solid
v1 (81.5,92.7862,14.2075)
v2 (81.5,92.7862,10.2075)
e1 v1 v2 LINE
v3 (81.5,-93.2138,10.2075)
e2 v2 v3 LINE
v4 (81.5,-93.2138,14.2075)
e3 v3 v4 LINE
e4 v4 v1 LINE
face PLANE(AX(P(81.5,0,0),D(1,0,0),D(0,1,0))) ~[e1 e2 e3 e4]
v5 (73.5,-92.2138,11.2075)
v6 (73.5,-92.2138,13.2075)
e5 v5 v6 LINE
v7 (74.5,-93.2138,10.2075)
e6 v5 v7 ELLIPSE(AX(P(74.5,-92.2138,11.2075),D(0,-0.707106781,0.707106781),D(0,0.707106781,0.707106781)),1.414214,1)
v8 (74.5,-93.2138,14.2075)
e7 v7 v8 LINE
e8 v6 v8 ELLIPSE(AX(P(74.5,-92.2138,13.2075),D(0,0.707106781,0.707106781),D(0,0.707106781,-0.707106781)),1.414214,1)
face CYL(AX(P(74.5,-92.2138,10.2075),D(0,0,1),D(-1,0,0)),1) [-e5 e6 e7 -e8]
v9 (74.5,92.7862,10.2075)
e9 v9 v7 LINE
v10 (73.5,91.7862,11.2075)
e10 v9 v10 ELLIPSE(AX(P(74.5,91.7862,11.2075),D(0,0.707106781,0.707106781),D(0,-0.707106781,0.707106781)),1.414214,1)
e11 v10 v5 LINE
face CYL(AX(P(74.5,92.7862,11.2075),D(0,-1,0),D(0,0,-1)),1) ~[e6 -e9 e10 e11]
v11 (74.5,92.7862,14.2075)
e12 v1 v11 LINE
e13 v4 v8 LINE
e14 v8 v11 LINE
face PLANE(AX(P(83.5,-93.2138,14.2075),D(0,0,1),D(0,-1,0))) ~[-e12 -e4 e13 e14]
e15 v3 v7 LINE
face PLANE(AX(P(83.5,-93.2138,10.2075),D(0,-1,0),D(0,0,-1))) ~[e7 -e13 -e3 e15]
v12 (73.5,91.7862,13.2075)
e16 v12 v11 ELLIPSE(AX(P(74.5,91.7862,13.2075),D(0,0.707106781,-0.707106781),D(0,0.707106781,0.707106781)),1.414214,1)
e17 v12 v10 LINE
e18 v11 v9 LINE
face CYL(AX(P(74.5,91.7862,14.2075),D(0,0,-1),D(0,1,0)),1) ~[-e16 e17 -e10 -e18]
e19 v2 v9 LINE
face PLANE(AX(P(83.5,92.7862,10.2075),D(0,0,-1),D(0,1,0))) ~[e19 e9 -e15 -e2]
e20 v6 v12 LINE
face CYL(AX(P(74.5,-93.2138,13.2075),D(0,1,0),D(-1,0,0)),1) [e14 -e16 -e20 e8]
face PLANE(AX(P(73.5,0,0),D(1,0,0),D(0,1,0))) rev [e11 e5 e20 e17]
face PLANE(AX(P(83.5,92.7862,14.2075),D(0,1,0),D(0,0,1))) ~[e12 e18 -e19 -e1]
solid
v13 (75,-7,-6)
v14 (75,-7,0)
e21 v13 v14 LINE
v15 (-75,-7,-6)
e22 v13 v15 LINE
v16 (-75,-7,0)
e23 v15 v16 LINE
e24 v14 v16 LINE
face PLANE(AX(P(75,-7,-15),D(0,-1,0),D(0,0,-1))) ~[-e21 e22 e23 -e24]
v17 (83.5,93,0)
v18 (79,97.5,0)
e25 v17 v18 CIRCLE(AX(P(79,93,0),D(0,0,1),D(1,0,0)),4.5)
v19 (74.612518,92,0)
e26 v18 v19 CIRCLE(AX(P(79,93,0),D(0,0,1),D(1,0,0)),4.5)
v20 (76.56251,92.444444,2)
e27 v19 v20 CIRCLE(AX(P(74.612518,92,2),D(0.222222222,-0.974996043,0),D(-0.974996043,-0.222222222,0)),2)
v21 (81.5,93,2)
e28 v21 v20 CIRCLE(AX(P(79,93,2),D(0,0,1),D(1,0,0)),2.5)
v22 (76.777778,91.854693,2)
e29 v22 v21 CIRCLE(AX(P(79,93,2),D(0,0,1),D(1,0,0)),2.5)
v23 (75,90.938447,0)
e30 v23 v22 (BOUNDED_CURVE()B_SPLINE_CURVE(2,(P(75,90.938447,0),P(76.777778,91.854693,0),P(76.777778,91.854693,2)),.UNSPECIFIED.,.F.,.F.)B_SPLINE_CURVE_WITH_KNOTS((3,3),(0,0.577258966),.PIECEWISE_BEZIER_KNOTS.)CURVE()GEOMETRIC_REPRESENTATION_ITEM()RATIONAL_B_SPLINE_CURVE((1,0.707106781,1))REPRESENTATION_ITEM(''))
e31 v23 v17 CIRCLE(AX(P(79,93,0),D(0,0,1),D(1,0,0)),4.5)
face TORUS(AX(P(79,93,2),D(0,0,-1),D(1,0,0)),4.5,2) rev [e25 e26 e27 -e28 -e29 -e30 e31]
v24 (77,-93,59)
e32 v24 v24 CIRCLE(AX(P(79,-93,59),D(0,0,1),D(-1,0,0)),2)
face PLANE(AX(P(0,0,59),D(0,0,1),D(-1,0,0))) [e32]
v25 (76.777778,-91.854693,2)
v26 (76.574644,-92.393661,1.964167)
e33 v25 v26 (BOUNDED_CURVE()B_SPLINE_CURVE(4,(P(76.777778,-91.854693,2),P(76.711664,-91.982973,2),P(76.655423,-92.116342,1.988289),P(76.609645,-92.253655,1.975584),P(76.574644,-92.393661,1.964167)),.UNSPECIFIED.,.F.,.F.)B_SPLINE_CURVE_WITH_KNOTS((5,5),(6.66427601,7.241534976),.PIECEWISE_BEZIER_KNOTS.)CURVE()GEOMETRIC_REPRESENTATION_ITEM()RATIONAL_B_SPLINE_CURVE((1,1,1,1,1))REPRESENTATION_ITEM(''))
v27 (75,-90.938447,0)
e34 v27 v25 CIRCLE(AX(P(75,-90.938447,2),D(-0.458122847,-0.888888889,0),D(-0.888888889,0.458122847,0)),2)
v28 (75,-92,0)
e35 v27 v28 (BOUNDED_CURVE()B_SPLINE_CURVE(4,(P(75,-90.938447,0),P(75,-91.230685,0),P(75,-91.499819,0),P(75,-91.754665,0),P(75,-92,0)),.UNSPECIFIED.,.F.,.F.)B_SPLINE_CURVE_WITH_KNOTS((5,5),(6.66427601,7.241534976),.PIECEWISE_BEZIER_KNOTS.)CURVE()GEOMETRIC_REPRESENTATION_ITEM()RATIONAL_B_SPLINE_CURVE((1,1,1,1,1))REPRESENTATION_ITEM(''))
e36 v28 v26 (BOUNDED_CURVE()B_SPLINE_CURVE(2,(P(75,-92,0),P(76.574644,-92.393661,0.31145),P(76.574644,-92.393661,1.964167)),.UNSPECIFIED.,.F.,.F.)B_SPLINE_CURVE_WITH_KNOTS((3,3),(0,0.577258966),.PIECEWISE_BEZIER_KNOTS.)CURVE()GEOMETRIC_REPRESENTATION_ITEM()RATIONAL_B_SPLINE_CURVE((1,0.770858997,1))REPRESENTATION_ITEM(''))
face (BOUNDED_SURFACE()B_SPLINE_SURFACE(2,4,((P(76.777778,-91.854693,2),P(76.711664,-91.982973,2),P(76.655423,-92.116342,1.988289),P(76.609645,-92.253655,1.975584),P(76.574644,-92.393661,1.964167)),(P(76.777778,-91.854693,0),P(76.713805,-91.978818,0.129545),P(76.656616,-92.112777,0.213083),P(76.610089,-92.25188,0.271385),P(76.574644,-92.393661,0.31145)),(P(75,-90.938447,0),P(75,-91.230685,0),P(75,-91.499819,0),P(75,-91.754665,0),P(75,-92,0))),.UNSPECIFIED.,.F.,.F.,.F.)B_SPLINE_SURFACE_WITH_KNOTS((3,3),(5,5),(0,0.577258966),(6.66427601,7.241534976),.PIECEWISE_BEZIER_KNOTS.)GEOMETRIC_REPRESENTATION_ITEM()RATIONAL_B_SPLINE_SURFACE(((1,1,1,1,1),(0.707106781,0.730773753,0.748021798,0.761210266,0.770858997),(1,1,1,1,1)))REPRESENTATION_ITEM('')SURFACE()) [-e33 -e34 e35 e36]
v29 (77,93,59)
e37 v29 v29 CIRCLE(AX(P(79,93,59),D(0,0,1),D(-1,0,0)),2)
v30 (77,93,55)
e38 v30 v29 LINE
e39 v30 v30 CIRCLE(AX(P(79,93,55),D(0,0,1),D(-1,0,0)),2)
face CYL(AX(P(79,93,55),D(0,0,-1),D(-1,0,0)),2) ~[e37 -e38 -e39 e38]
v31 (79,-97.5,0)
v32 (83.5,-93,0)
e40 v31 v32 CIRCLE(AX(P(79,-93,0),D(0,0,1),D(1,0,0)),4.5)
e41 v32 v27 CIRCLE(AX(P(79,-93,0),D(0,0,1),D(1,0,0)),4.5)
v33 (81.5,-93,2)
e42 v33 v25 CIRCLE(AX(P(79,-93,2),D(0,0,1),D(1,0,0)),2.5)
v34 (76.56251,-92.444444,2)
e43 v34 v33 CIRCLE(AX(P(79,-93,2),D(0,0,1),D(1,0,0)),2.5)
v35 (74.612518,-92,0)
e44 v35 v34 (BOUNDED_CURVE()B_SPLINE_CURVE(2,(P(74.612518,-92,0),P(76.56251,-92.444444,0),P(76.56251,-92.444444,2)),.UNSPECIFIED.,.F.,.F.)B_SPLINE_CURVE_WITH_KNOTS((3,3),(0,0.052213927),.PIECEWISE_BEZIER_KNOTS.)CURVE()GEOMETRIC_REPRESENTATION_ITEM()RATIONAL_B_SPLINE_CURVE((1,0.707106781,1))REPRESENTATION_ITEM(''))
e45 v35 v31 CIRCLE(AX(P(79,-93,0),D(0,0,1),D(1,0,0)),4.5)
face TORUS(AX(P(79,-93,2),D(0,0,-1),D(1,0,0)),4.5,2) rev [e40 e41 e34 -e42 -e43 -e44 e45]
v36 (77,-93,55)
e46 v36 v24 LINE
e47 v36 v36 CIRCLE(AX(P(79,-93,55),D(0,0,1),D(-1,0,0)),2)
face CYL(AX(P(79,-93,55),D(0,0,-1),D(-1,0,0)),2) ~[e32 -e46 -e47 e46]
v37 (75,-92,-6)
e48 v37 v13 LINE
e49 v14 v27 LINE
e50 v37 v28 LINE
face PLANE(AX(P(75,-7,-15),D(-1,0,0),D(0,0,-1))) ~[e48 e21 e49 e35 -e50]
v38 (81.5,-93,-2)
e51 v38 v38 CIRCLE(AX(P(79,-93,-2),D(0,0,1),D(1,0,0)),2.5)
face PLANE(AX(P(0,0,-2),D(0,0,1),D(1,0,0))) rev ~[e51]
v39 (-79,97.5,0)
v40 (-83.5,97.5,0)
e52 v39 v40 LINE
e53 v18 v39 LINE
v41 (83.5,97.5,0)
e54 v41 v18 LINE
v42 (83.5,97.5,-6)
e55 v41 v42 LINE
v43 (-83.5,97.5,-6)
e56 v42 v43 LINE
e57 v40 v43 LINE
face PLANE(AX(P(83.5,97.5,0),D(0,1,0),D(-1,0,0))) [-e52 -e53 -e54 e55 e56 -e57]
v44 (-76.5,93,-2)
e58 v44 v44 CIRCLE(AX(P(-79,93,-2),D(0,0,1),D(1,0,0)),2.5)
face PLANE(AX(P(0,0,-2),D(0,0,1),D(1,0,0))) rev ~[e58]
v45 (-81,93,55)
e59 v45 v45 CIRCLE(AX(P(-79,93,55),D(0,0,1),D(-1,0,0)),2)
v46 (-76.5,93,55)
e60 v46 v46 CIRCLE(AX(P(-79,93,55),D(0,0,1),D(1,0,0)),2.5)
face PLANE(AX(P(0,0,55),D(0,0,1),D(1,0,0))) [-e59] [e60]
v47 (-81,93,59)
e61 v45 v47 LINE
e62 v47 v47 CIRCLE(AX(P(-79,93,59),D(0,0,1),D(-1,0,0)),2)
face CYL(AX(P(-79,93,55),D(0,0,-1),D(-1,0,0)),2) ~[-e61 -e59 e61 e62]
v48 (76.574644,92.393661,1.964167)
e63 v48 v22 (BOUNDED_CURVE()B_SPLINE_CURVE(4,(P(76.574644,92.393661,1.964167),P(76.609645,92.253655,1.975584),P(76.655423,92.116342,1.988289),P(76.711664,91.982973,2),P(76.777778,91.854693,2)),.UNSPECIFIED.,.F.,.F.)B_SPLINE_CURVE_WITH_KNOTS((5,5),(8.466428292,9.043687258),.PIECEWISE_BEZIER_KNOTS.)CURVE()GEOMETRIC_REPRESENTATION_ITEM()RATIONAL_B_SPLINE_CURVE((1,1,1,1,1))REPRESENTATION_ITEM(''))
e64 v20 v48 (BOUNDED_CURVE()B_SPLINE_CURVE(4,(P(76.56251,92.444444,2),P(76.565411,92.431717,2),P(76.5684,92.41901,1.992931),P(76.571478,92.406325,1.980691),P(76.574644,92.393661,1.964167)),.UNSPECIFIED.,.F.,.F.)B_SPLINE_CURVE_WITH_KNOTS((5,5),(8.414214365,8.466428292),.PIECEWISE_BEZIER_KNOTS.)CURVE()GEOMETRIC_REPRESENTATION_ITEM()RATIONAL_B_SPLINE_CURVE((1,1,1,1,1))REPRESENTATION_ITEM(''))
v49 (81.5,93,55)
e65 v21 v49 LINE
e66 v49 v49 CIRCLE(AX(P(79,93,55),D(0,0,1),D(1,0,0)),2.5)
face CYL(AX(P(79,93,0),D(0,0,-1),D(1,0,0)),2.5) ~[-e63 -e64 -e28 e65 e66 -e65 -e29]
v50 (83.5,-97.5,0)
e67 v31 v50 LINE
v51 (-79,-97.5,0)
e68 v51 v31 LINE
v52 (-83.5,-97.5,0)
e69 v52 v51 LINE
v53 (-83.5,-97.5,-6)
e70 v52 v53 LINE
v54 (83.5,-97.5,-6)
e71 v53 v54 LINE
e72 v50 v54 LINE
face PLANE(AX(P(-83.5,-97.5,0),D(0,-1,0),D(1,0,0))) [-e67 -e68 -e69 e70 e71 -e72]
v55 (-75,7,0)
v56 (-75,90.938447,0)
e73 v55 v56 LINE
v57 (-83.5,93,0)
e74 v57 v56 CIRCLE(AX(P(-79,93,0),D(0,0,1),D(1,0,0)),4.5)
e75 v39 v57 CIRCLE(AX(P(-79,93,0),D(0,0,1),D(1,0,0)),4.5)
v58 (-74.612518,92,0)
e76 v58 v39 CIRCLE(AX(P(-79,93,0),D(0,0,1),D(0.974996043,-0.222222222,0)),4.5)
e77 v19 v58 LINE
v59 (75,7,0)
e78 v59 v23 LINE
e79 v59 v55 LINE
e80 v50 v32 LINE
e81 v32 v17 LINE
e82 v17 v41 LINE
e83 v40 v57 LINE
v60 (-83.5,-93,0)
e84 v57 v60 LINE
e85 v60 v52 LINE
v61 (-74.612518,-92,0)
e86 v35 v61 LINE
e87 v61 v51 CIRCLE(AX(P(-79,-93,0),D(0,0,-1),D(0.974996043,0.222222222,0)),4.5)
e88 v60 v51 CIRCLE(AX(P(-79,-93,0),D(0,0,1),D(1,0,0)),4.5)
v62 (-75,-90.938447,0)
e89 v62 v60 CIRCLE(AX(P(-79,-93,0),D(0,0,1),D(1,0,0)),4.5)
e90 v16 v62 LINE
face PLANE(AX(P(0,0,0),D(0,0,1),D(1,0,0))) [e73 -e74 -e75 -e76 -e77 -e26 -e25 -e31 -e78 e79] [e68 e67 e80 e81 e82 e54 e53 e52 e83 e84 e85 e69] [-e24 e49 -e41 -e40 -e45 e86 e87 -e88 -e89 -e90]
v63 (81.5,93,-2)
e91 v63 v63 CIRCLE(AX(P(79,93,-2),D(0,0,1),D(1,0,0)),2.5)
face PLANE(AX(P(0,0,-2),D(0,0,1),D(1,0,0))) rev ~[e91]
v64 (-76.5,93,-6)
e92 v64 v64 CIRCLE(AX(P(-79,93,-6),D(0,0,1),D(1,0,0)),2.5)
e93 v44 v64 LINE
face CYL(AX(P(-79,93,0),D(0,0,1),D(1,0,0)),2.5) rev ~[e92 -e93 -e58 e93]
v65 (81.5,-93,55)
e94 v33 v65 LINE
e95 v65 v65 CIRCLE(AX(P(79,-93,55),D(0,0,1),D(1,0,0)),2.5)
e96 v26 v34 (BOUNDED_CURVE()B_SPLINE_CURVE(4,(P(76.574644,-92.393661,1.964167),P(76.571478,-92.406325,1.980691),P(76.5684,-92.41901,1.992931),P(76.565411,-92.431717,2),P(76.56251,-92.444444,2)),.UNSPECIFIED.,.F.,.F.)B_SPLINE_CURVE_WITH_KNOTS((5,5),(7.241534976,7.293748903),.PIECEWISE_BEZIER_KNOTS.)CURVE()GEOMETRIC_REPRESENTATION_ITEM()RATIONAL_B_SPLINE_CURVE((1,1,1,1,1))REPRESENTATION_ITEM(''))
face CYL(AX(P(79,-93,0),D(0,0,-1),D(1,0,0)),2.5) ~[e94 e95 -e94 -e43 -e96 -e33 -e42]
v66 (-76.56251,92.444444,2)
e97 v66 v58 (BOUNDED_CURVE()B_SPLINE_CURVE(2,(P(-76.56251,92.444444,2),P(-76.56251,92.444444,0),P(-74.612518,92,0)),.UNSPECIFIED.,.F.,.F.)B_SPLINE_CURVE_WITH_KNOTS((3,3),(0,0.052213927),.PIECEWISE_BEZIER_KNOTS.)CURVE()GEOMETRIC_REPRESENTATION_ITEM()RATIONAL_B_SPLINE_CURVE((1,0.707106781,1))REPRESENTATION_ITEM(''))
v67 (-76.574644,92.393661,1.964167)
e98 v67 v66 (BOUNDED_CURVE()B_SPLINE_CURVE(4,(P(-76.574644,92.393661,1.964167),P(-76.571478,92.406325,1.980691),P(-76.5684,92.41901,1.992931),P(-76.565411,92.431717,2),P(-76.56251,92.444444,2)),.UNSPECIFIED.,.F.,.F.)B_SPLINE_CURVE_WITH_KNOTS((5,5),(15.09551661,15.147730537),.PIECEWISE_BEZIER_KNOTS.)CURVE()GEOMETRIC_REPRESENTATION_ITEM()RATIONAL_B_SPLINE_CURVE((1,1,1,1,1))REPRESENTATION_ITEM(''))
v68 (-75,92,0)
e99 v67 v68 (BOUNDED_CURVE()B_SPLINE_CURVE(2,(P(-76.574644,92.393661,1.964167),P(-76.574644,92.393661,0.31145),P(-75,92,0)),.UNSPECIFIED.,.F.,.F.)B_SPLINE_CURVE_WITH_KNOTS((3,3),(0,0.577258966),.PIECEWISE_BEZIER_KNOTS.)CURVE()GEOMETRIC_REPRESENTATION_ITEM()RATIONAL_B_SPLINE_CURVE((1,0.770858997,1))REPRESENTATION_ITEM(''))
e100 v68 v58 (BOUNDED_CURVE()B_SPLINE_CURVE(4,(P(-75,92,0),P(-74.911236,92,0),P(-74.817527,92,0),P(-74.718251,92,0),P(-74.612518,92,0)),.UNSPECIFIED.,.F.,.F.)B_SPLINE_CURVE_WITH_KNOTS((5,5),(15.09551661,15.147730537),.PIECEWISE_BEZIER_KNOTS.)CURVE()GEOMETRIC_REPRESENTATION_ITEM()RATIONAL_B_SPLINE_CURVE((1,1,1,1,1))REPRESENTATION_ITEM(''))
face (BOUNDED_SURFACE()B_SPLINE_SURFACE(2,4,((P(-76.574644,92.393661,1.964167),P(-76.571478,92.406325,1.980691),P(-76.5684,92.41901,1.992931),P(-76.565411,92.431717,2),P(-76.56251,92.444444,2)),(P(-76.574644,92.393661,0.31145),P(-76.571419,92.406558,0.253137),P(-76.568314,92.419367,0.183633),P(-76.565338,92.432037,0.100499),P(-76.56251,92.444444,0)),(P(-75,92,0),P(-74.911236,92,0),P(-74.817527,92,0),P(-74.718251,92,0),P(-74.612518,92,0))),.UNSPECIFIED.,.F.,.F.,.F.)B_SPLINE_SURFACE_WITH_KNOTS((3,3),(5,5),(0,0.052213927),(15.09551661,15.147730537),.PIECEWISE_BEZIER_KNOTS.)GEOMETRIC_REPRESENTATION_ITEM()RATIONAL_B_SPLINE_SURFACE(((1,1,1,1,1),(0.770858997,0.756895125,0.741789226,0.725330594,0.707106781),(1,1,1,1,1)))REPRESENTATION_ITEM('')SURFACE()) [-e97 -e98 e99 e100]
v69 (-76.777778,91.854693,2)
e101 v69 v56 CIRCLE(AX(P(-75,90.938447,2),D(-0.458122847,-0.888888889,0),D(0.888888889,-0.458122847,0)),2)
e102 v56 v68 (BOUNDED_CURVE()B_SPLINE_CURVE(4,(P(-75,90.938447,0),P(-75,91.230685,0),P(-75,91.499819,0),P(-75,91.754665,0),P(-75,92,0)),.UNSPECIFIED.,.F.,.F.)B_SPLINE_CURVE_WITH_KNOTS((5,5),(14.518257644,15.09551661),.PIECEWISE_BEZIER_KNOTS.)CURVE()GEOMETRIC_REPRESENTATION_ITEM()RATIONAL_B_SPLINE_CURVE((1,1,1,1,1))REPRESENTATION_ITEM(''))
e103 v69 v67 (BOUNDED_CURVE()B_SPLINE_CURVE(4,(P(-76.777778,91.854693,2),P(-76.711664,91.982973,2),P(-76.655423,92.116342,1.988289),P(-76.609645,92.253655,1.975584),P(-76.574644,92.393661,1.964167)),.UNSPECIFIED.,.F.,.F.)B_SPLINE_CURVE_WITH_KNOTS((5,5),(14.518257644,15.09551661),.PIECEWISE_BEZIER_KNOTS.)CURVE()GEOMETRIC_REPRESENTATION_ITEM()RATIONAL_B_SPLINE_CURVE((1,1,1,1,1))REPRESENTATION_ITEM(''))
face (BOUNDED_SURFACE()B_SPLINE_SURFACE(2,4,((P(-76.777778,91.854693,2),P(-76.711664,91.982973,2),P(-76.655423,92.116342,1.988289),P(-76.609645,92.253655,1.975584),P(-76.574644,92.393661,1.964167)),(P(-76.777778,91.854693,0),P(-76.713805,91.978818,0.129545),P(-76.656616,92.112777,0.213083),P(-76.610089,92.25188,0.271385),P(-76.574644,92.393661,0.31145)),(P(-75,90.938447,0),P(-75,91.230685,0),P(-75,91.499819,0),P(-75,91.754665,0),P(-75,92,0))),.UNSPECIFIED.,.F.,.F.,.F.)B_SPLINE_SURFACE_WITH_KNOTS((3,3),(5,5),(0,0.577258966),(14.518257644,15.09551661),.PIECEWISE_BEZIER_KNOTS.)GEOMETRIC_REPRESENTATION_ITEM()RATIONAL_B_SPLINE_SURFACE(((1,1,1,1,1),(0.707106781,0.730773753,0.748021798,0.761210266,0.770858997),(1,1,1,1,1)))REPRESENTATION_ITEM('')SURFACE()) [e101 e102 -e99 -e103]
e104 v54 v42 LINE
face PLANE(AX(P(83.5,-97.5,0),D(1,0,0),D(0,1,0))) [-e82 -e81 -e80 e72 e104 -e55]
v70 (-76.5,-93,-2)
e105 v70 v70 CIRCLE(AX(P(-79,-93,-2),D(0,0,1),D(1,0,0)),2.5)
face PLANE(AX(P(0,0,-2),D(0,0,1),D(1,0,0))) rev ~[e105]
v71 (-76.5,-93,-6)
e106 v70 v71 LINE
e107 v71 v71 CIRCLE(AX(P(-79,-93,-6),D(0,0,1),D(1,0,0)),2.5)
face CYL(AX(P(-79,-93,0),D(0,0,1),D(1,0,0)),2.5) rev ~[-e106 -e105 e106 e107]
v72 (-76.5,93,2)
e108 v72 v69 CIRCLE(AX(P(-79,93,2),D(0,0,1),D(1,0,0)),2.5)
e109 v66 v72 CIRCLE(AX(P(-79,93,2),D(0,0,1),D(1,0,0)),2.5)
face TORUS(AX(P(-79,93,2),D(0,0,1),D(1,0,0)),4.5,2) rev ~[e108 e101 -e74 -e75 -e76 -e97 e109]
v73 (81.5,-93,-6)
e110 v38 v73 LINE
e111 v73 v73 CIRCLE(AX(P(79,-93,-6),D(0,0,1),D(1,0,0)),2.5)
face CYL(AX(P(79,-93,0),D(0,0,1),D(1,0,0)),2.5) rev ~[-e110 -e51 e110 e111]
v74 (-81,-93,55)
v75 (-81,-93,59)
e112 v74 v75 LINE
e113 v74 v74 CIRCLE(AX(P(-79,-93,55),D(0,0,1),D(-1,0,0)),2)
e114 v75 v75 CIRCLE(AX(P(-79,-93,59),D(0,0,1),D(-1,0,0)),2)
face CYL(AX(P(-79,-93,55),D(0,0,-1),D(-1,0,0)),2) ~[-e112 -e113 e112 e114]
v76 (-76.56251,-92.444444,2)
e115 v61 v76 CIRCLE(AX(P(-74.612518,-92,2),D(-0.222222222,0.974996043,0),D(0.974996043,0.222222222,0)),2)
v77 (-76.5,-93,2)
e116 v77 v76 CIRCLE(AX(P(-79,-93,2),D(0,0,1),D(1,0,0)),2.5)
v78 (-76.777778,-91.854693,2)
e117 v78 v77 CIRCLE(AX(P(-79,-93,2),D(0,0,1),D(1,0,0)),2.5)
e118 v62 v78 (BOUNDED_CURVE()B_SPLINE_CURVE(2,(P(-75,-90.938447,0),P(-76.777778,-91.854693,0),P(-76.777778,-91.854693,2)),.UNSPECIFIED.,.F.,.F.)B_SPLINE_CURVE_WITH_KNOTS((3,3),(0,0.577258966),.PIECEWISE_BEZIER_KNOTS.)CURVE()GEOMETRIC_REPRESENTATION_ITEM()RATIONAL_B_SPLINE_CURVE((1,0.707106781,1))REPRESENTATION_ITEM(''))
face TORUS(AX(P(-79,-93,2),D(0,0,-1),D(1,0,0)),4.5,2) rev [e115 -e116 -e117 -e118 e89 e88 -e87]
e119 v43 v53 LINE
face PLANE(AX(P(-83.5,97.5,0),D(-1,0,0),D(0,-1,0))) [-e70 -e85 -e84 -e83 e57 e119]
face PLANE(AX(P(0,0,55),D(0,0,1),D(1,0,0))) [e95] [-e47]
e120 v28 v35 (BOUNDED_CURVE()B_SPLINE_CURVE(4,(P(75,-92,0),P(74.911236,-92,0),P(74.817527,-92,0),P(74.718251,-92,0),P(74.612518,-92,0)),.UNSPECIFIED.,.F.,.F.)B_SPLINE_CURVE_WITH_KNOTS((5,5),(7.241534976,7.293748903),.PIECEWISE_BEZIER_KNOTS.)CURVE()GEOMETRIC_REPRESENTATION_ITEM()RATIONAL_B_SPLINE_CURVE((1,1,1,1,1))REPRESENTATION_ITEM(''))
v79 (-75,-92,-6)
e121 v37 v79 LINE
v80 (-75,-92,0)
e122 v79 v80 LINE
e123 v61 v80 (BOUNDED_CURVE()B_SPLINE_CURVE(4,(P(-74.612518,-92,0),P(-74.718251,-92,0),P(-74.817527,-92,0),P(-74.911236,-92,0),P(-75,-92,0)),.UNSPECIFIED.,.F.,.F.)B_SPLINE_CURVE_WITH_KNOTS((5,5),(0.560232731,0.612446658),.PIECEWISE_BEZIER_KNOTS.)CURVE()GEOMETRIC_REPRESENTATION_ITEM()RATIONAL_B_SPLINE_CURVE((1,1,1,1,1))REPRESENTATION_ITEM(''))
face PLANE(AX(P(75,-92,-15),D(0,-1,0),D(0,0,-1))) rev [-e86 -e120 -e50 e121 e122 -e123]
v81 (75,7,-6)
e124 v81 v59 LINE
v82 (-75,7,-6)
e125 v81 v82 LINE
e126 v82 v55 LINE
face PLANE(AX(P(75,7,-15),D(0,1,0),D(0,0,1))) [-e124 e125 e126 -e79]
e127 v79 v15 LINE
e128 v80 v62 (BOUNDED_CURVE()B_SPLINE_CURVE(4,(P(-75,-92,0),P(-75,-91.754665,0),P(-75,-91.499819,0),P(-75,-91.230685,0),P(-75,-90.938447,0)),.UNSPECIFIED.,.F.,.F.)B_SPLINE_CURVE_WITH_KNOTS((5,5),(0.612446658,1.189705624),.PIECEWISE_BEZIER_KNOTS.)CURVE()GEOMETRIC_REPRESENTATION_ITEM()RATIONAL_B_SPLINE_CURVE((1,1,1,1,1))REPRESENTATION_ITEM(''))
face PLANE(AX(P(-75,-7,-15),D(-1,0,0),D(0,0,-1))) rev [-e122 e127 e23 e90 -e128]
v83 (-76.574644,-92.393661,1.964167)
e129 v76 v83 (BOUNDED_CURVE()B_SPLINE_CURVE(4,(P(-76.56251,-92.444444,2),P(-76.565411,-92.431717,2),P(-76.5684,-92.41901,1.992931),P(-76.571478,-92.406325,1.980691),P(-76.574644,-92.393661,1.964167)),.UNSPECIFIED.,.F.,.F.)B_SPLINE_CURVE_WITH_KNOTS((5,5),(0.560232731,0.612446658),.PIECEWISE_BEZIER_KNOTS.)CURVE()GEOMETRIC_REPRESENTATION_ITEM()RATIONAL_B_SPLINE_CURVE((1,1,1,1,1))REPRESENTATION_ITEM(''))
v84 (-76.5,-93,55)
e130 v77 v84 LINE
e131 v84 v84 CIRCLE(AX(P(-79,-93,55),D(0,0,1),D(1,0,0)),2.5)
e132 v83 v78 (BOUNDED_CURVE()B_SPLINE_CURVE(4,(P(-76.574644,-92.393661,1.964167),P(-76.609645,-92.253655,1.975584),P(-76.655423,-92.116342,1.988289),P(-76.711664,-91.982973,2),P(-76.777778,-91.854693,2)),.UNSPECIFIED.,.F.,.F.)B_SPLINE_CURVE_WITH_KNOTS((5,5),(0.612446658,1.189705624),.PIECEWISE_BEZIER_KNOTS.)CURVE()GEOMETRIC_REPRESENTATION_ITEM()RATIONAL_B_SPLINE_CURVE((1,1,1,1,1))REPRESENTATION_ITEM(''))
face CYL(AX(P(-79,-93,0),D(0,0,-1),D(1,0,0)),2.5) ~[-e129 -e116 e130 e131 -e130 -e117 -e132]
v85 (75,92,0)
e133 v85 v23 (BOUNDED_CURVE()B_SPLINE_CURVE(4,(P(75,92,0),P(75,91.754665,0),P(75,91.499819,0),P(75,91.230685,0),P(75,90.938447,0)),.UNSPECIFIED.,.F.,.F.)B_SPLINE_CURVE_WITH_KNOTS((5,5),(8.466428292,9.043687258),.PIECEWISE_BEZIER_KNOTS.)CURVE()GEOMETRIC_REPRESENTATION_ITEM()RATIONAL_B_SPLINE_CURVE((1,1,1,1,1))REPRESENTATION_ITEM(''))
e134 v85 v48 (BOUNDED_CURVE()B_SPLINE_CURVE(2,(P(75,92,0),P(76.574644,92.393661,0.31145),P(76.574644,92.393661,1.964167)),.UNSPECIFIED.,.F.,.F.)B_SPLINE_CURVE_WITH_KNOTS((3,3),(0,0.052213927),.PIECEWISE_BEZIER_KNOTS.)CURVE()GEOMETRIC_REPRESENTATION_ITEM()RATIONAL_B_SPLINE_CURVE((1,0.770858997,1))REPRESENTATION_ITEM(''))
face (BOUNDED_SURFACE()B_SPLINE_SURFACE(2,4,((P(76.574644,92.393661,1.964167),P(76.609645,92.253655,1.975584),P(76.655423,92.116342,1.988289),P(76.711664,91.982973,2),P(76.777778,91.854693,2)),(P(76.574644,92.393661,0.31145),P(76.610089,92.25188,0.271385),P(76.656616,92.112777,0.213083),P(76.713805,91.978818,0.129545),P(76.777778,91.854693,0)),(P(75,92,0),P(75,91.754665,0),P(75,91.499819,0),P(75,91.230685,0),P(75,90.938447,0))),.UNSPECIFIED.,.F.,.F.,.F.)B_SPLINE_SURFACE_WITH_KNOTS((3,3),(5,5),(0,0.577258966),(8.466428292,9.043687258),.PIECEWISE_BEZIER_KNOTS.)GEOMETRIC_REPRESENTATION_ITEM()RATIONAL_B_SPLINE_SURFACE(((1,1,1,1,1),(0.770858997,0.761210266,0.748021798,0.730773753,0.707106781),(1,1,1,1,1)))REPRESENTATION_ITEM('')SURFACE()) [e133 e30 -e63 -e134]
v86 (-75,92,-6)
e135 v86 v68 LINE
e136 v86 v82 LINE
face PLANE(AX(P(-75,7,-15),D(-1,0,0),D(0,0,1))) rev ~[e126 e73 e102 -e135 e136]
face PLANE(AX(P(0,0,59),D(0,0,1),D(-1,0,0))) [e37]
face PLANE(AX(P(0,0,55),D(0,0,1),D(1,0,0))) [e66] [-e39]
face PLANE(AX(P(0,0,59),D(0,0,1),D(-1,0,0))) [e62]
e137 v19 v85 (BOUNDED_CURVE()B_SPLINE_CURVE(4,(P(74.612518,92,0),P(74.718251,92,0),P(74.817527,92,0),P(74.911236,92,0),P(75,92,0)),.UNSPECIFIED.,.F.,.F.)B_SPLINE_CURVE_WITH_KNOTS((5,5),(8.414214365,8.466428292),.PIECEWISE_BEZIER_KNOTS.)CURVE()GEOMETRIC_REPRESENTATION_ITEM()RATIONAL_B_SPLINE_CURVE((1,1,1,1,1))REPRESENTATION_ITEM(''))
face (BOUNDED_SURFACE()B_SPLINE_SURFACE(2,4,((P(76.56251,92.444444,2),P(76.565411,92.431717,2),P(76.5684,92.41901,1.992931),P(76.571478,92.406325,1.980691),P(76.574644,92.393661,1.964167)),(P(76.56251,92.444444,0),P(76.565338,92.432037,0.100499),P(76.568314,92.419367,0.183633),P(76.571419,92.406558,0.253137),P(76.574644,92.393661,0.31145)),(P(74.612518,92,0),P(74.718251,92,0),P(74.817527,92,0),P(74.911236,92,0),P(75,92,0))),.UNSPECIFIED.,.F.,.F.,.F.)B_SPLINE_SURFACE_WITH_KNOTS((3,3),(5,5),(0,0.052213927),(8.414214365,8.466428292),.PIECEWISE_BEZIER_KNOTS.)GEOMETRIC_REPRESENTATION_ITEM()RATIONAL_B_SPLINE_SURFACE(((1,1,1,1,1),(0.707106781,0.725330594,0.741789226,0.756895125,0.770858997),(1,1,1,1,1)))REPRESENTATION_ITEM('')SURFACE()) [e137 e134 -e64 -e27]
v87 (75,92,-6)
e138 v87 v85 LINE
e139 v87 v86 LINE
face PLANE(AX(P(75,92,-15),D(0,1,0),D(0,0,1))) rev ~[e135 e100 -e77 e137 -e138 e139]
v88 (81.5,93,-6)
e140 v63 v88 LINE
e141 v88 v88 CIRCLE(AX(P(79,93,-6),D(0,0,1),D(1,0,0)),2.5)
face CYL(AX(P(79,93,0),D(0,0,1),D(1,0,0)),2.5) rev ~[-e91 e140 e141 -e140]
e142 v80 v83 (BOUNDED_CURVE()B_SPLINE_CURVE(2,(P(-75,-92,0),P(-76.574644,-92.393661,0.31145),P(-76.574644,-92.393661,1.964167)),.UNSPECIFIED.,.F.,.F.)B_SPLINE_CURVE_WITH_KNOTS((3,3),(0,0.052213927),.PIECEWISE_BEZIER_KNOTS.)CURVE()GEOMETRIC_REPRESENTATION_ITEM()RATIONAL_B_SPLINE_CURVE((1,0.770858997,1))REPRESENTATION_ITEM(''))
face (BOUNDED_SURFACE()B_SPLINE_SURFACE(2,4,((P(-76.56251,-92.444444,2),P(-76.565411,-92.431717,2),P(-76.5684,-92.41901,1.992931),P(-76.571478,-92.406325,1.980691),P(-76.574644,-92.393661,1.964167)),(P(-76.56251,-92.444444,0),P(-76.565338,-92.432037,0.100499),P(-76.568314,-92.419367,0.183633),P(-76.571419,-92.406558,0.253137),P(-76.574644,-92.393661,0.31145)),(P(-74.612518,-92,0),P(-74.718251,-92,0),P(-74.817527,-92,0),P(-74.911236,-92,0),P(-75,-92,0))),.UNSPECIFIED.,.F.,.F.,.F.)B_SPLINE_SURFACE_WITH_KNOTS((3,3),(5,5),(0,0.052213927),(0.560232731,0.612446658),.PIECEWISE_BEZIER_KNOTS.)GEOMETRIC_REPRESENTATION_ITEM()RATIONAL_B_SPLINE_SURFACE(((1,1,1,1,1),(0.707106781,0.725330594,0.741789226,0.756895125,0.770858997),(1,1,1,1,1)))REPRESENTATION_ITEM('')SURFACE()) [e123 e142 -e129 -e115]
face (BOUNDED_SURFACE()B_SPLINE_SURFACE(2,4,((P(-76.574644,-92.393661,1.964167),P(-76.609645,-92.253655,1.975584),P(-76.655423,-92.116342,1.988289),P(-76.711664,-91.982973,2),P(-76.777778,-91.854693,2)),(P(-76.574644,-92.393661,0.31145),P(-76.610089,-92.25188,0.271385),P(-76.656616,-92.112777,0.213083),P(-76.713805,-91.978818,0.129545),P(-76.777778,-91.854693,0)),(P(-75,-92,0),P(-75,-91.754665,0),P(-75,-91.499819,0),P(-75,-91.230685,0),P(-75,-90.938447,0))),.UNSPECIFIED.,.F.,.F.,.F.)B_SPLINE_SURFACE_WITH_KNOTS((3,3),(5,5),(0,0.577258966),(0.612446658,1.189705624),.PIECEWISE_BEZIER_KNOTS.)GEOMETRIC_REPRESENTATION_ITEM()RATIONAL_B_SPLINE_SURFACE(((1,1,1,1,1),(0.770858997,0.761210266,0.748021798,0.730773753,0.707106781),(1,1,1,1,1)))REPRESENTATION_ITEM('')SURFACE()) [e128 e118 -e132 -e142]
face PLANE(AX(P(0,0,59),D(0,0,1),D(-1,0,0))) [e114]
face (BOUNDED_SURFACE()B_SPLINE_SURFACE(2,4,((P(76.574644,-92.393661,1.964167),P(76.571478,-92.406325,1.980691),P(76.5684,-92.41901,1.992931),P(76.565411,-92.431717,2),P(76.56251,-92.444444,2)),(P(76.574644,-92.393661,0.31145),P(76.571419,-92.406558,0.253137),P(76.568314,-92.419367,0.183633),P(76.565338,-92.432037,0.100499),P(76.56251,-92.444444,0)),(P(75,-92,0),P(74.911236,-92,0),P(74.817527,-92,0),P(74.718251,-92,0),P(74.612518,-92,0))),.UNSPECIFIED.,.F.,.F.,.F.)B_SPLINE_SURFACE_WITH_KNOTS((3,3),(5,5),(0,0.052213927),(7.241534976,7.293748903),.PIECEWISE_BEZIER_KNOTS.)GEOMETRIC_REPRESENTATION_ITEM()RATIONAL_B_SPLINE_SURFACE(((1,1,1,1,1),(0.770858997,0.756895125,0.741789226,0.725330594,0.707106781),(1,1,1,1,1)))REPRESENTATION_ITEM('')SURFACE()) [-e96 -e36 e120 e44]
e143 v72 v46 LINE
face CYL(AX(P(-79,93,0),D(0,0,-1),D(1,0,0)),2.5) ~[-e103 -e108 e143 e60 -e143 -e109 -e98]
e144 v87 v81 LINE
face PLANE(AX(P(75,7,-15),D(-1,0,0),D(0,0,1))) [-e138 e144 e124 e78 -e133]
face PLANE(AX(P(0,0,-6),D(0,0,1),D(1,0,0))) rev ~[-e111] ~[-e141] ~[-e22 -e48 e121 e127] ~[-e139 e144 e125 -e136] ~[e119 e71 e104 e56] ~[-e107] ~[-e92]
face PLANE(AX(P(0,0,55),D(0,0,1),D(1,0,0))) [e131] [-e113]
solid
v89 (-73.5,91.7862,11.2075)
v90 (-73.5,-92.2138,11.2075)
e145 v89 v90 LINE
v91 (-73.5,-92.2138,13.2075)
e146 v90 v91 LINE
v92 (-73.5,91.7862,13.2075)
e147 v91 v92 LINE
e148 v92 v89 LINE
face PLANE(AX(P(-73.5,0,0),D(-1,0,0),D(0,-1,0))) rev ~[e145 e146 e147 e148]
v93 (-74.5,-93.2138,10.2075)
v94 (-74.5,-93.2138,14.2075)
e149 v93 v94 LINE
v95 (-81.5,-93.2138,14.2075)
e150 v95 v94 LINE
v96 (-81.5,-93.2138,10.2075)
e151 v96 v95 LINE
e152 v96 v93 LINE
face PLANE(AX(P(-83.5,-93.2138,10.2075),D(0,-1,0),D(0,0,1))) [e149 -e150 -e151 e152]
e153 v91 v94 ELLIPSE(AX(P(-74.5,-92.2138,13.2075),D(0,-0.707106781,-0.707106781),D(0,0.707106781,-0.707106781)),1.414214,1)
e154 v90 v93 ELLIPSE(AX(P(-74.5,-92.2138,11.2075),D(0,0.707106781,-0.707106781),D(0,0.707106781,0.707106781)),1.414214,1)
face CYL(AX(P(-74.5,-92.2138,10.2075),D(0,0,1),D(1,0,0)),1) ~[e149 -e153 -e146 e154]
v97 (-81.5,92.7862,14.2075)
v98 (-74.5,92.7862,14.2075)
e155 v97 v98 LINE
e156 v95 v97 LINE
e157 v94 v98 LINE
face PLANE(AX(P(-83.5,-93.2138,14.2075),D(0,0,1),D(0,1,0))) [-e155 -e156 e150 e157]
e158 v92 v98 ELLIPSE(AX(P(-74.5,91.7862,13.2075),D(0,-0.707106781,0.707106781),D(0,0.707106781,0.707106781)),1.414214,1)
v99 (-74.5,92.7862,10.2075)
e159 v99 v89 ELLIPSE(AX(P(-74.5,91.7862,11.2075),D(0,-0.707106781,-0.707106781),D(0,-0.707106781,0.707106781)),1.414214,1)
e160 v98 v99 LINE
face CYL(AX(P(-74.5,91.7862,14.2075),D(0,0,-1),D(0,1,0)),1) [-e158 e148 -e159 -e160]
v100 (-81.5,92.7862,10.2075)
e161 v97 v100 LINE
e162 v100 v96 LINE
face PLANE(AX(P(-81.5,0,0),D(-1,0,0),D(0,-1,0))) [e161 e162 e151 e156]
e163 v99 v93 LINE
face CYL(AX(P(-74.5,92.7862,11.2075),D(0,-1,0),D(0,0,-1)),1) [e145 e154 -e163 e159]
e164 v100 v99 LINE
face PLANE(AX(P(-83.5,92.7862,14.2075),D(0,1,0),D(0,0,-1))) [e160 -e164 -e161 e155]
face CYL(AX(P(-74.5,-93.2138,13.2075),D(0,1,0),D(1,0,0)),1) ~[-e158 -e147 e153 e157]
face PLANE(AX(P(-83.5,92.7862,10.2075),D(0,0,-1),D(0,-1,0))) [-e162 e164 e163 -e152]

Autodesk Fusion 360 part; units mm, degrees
sketch "sk_base" plane through (0, 0, 0) normal (0, 0, 1) x (1, 0, 0)
  line L0 (77, 91) -> (-77, 91)
  line L1 (-77, 91) -> (-77, -91)
  line L2 (-77, -91) -> (77, -91)
  line L3 (77, -91) -> (77, 91)
  line L4 (77, 91) -> (-77, -91) construction
  line L5 (-77, 91) -> (77, -91) construction
  line L6 (-83.5, -97.5) -> (83.5, -97.5)
  line L7 (83.5, -97.5) -> (83.5, 97.5)
  line L8 (83.5, 97.5) -> (-83.5, 97.5)
  line L9 (-83.5, 97.5) -> (-83.5, -97.5)
  circle A0 centre (-79, 93) radius 2.5
  circle A1 centre (79, 93) radius 2.5
  circle A2 centre (-79, -93) radius 2.5
  circle A3 centre (79, -93) radius 2.5
  dimension "d1" = 154
  dimension "d2" = 182
  dimension "d3" = 6.5
  dimension "d4" = 5
  dimension "d5" = 5
  dimension "d6" = 5
  dimension "d7" = 5
extrude "Extrude2" add sketch "sk_base" against normal blind 6 contours L0 L1 L2 L3 | L6 L7 L8 L9 makes body 1
extrude "Extrude1" add sketch "sk_base" along normal blind 55 separate body contours A0 | A1 | A2 | A3 makes body 2 at (-76.5124, -93.2489, 18.3333) makes body 3 at (76.6963, -93.9711, 36.6667) makes body 4 at (-81.3037, 92.0289, 36.6667) makes body 5 at (76.6963, 92.0289, 36.6667)
sketch "sk_rail" plane through (-83.5, 0, 0) normal (-1, 0, 0) x (0, -1, 0)
  line L0 (97.5, 0) -> (-97.5, 0)
  line L1 (-97.5, 0) -> (-97.5, -6)
  line L2 (-97.5, -6) -> (97.5, -6)
  line L3 (97.5, -6) -> (97.5, 0)
  line L4 (-92.7862, 10.2075) -> (93.2138, 10.2075)
  line L5 (93.2138, 10.2075) -> (93.2138, 14.2075)
  line L6 (93.2138, 14.2075) -> (-92.7862, 14.2075)
  line L7 (-92.7862, 14.2075) -> (-92.7862, 10.2075)
  dimension "d12" = 186
  dimension "d13" = 4
extrude "Extrude3" add sketch "sk_rail" against normal blind 10 separate body contours L4 L5 L6 L7 makes body 6
extrude "Extrude4" cut 1 faces at (-83.5, -31.2138, 12.8742) along direction (1, 0, 0) blind 2 on bodies 6 bodies 6
fillet "Fillet1" radius 1 4 edges at (-73.5, -0.2138, 14.2075) (-73.5, -93.2138, 12.2075) (-73.5, -0.2138, 10.2075) (-73.5, 92.7862, 12.2075) on bodies 6
mirror "Mirror1" about plane through (0, 0, 0) normal (1, 0, 0) of bodies 6 makes body 7
box "BoxPrimitive1" cut length 85 width 150 height -15 placed x (0, 1, 0) y (-1, 0, 0) z (0, 0, 1) at (75, 7, 0) bodies 1
mirror "Mirror2" about plane through (0, 0, 0) normal (0, 1, 0) of "BoxPrimitive1"
extrude "Extrude5" add sketch "sk_base" against normal blind 1 contours A1 bodies 1 7 5
extrude "Extrude6" add sketch "sk_base" against normal blind 1 contours A3 bodies 1 7 3
extrude "Extrude7" add sketch "sk_base" against normal blind 1 contours A2 bodies 1 6 2
extrude "Extrude8" add sketch "sk_base" against normal blind 1 contours A0 bodies 1 6 4
fillet "Fillet2" radius 2 4 edges at (-81.3308, 93.904, 0) (-81.3308, -92.096, 0) (76.6692, -92.096, 0) (76.6692, 93.904, 0) on bodies 1
sketch "sk_foot_ext_1" plane through (0, 0, 55) normal (0, 0, 1) x (-1, 0, 0)
  circle A0 centre (-79, 93) radius 2.5
  circle A1 centre (-79, 93) radius 2
extrude "Extrude9" add sketch "sk_foot_ext_1" along normal blind 4 contours A1 bodies 1
sketch "sk_foot_ext_2" plane through (0, 0, 55) normal (0, 0, 1) x (-1, 0, 0)
  circle A0 centre (79, 93) radius 2.5
  circle A1 centre (79, 93) radius 2
extrude "Extrude10" add sketch "sk_foot_ext_2" along normal blind 4 contours A1 bodies 1
sketch "sk_foot_ext_3" plane through (0, 0, 55) normal (0, 0, 1) x (-1, 0, 0)
  circle A0 centre (79, -93) radius 2.5
  circle A1 centre (79, -93) radius 2
  dimension "d43" = 4
extrude "Extrude11" add sketch "sk_foot_ext_3" along normal blind 4 contours A1 bodies 1
sketch "sk_foot_ext_4" plane through (0, 0, 55) normal (0, 0, 1) x (-1, 0, 0)
  circle A0 centre (-79, -93) radius 2.5
  circle A1 centre (-79, -93) radius 2
  dimension "d46" = 4
extrude "Extrude12" add sketch "sk_foot_ext_4" along normal blind 4 contours A1 bodies 1
extrude "Extrude13" add 1 faces at (80.7603, -93.1944, -1) along direction (0, 0, -1) blind 1 on bodies 1 bodies 1
extrude "Extrude14" add 1 faces at (-77.2397, -93.1944, -1) along direction (0, 0, -1) blind 1 on bodies 1 bodies 1
extrude "Extrude15" add 1 faces at (-77.2397, 92.8056, -1) along direction (0, 0, -1) blind 1 on bodies 1 bodies 1
extrude "Extrude16" add 1 faces at (77.2397, 92.8056, -1) along direction (0, 0, -1) blind 1 on bodies 1 bodies 1
